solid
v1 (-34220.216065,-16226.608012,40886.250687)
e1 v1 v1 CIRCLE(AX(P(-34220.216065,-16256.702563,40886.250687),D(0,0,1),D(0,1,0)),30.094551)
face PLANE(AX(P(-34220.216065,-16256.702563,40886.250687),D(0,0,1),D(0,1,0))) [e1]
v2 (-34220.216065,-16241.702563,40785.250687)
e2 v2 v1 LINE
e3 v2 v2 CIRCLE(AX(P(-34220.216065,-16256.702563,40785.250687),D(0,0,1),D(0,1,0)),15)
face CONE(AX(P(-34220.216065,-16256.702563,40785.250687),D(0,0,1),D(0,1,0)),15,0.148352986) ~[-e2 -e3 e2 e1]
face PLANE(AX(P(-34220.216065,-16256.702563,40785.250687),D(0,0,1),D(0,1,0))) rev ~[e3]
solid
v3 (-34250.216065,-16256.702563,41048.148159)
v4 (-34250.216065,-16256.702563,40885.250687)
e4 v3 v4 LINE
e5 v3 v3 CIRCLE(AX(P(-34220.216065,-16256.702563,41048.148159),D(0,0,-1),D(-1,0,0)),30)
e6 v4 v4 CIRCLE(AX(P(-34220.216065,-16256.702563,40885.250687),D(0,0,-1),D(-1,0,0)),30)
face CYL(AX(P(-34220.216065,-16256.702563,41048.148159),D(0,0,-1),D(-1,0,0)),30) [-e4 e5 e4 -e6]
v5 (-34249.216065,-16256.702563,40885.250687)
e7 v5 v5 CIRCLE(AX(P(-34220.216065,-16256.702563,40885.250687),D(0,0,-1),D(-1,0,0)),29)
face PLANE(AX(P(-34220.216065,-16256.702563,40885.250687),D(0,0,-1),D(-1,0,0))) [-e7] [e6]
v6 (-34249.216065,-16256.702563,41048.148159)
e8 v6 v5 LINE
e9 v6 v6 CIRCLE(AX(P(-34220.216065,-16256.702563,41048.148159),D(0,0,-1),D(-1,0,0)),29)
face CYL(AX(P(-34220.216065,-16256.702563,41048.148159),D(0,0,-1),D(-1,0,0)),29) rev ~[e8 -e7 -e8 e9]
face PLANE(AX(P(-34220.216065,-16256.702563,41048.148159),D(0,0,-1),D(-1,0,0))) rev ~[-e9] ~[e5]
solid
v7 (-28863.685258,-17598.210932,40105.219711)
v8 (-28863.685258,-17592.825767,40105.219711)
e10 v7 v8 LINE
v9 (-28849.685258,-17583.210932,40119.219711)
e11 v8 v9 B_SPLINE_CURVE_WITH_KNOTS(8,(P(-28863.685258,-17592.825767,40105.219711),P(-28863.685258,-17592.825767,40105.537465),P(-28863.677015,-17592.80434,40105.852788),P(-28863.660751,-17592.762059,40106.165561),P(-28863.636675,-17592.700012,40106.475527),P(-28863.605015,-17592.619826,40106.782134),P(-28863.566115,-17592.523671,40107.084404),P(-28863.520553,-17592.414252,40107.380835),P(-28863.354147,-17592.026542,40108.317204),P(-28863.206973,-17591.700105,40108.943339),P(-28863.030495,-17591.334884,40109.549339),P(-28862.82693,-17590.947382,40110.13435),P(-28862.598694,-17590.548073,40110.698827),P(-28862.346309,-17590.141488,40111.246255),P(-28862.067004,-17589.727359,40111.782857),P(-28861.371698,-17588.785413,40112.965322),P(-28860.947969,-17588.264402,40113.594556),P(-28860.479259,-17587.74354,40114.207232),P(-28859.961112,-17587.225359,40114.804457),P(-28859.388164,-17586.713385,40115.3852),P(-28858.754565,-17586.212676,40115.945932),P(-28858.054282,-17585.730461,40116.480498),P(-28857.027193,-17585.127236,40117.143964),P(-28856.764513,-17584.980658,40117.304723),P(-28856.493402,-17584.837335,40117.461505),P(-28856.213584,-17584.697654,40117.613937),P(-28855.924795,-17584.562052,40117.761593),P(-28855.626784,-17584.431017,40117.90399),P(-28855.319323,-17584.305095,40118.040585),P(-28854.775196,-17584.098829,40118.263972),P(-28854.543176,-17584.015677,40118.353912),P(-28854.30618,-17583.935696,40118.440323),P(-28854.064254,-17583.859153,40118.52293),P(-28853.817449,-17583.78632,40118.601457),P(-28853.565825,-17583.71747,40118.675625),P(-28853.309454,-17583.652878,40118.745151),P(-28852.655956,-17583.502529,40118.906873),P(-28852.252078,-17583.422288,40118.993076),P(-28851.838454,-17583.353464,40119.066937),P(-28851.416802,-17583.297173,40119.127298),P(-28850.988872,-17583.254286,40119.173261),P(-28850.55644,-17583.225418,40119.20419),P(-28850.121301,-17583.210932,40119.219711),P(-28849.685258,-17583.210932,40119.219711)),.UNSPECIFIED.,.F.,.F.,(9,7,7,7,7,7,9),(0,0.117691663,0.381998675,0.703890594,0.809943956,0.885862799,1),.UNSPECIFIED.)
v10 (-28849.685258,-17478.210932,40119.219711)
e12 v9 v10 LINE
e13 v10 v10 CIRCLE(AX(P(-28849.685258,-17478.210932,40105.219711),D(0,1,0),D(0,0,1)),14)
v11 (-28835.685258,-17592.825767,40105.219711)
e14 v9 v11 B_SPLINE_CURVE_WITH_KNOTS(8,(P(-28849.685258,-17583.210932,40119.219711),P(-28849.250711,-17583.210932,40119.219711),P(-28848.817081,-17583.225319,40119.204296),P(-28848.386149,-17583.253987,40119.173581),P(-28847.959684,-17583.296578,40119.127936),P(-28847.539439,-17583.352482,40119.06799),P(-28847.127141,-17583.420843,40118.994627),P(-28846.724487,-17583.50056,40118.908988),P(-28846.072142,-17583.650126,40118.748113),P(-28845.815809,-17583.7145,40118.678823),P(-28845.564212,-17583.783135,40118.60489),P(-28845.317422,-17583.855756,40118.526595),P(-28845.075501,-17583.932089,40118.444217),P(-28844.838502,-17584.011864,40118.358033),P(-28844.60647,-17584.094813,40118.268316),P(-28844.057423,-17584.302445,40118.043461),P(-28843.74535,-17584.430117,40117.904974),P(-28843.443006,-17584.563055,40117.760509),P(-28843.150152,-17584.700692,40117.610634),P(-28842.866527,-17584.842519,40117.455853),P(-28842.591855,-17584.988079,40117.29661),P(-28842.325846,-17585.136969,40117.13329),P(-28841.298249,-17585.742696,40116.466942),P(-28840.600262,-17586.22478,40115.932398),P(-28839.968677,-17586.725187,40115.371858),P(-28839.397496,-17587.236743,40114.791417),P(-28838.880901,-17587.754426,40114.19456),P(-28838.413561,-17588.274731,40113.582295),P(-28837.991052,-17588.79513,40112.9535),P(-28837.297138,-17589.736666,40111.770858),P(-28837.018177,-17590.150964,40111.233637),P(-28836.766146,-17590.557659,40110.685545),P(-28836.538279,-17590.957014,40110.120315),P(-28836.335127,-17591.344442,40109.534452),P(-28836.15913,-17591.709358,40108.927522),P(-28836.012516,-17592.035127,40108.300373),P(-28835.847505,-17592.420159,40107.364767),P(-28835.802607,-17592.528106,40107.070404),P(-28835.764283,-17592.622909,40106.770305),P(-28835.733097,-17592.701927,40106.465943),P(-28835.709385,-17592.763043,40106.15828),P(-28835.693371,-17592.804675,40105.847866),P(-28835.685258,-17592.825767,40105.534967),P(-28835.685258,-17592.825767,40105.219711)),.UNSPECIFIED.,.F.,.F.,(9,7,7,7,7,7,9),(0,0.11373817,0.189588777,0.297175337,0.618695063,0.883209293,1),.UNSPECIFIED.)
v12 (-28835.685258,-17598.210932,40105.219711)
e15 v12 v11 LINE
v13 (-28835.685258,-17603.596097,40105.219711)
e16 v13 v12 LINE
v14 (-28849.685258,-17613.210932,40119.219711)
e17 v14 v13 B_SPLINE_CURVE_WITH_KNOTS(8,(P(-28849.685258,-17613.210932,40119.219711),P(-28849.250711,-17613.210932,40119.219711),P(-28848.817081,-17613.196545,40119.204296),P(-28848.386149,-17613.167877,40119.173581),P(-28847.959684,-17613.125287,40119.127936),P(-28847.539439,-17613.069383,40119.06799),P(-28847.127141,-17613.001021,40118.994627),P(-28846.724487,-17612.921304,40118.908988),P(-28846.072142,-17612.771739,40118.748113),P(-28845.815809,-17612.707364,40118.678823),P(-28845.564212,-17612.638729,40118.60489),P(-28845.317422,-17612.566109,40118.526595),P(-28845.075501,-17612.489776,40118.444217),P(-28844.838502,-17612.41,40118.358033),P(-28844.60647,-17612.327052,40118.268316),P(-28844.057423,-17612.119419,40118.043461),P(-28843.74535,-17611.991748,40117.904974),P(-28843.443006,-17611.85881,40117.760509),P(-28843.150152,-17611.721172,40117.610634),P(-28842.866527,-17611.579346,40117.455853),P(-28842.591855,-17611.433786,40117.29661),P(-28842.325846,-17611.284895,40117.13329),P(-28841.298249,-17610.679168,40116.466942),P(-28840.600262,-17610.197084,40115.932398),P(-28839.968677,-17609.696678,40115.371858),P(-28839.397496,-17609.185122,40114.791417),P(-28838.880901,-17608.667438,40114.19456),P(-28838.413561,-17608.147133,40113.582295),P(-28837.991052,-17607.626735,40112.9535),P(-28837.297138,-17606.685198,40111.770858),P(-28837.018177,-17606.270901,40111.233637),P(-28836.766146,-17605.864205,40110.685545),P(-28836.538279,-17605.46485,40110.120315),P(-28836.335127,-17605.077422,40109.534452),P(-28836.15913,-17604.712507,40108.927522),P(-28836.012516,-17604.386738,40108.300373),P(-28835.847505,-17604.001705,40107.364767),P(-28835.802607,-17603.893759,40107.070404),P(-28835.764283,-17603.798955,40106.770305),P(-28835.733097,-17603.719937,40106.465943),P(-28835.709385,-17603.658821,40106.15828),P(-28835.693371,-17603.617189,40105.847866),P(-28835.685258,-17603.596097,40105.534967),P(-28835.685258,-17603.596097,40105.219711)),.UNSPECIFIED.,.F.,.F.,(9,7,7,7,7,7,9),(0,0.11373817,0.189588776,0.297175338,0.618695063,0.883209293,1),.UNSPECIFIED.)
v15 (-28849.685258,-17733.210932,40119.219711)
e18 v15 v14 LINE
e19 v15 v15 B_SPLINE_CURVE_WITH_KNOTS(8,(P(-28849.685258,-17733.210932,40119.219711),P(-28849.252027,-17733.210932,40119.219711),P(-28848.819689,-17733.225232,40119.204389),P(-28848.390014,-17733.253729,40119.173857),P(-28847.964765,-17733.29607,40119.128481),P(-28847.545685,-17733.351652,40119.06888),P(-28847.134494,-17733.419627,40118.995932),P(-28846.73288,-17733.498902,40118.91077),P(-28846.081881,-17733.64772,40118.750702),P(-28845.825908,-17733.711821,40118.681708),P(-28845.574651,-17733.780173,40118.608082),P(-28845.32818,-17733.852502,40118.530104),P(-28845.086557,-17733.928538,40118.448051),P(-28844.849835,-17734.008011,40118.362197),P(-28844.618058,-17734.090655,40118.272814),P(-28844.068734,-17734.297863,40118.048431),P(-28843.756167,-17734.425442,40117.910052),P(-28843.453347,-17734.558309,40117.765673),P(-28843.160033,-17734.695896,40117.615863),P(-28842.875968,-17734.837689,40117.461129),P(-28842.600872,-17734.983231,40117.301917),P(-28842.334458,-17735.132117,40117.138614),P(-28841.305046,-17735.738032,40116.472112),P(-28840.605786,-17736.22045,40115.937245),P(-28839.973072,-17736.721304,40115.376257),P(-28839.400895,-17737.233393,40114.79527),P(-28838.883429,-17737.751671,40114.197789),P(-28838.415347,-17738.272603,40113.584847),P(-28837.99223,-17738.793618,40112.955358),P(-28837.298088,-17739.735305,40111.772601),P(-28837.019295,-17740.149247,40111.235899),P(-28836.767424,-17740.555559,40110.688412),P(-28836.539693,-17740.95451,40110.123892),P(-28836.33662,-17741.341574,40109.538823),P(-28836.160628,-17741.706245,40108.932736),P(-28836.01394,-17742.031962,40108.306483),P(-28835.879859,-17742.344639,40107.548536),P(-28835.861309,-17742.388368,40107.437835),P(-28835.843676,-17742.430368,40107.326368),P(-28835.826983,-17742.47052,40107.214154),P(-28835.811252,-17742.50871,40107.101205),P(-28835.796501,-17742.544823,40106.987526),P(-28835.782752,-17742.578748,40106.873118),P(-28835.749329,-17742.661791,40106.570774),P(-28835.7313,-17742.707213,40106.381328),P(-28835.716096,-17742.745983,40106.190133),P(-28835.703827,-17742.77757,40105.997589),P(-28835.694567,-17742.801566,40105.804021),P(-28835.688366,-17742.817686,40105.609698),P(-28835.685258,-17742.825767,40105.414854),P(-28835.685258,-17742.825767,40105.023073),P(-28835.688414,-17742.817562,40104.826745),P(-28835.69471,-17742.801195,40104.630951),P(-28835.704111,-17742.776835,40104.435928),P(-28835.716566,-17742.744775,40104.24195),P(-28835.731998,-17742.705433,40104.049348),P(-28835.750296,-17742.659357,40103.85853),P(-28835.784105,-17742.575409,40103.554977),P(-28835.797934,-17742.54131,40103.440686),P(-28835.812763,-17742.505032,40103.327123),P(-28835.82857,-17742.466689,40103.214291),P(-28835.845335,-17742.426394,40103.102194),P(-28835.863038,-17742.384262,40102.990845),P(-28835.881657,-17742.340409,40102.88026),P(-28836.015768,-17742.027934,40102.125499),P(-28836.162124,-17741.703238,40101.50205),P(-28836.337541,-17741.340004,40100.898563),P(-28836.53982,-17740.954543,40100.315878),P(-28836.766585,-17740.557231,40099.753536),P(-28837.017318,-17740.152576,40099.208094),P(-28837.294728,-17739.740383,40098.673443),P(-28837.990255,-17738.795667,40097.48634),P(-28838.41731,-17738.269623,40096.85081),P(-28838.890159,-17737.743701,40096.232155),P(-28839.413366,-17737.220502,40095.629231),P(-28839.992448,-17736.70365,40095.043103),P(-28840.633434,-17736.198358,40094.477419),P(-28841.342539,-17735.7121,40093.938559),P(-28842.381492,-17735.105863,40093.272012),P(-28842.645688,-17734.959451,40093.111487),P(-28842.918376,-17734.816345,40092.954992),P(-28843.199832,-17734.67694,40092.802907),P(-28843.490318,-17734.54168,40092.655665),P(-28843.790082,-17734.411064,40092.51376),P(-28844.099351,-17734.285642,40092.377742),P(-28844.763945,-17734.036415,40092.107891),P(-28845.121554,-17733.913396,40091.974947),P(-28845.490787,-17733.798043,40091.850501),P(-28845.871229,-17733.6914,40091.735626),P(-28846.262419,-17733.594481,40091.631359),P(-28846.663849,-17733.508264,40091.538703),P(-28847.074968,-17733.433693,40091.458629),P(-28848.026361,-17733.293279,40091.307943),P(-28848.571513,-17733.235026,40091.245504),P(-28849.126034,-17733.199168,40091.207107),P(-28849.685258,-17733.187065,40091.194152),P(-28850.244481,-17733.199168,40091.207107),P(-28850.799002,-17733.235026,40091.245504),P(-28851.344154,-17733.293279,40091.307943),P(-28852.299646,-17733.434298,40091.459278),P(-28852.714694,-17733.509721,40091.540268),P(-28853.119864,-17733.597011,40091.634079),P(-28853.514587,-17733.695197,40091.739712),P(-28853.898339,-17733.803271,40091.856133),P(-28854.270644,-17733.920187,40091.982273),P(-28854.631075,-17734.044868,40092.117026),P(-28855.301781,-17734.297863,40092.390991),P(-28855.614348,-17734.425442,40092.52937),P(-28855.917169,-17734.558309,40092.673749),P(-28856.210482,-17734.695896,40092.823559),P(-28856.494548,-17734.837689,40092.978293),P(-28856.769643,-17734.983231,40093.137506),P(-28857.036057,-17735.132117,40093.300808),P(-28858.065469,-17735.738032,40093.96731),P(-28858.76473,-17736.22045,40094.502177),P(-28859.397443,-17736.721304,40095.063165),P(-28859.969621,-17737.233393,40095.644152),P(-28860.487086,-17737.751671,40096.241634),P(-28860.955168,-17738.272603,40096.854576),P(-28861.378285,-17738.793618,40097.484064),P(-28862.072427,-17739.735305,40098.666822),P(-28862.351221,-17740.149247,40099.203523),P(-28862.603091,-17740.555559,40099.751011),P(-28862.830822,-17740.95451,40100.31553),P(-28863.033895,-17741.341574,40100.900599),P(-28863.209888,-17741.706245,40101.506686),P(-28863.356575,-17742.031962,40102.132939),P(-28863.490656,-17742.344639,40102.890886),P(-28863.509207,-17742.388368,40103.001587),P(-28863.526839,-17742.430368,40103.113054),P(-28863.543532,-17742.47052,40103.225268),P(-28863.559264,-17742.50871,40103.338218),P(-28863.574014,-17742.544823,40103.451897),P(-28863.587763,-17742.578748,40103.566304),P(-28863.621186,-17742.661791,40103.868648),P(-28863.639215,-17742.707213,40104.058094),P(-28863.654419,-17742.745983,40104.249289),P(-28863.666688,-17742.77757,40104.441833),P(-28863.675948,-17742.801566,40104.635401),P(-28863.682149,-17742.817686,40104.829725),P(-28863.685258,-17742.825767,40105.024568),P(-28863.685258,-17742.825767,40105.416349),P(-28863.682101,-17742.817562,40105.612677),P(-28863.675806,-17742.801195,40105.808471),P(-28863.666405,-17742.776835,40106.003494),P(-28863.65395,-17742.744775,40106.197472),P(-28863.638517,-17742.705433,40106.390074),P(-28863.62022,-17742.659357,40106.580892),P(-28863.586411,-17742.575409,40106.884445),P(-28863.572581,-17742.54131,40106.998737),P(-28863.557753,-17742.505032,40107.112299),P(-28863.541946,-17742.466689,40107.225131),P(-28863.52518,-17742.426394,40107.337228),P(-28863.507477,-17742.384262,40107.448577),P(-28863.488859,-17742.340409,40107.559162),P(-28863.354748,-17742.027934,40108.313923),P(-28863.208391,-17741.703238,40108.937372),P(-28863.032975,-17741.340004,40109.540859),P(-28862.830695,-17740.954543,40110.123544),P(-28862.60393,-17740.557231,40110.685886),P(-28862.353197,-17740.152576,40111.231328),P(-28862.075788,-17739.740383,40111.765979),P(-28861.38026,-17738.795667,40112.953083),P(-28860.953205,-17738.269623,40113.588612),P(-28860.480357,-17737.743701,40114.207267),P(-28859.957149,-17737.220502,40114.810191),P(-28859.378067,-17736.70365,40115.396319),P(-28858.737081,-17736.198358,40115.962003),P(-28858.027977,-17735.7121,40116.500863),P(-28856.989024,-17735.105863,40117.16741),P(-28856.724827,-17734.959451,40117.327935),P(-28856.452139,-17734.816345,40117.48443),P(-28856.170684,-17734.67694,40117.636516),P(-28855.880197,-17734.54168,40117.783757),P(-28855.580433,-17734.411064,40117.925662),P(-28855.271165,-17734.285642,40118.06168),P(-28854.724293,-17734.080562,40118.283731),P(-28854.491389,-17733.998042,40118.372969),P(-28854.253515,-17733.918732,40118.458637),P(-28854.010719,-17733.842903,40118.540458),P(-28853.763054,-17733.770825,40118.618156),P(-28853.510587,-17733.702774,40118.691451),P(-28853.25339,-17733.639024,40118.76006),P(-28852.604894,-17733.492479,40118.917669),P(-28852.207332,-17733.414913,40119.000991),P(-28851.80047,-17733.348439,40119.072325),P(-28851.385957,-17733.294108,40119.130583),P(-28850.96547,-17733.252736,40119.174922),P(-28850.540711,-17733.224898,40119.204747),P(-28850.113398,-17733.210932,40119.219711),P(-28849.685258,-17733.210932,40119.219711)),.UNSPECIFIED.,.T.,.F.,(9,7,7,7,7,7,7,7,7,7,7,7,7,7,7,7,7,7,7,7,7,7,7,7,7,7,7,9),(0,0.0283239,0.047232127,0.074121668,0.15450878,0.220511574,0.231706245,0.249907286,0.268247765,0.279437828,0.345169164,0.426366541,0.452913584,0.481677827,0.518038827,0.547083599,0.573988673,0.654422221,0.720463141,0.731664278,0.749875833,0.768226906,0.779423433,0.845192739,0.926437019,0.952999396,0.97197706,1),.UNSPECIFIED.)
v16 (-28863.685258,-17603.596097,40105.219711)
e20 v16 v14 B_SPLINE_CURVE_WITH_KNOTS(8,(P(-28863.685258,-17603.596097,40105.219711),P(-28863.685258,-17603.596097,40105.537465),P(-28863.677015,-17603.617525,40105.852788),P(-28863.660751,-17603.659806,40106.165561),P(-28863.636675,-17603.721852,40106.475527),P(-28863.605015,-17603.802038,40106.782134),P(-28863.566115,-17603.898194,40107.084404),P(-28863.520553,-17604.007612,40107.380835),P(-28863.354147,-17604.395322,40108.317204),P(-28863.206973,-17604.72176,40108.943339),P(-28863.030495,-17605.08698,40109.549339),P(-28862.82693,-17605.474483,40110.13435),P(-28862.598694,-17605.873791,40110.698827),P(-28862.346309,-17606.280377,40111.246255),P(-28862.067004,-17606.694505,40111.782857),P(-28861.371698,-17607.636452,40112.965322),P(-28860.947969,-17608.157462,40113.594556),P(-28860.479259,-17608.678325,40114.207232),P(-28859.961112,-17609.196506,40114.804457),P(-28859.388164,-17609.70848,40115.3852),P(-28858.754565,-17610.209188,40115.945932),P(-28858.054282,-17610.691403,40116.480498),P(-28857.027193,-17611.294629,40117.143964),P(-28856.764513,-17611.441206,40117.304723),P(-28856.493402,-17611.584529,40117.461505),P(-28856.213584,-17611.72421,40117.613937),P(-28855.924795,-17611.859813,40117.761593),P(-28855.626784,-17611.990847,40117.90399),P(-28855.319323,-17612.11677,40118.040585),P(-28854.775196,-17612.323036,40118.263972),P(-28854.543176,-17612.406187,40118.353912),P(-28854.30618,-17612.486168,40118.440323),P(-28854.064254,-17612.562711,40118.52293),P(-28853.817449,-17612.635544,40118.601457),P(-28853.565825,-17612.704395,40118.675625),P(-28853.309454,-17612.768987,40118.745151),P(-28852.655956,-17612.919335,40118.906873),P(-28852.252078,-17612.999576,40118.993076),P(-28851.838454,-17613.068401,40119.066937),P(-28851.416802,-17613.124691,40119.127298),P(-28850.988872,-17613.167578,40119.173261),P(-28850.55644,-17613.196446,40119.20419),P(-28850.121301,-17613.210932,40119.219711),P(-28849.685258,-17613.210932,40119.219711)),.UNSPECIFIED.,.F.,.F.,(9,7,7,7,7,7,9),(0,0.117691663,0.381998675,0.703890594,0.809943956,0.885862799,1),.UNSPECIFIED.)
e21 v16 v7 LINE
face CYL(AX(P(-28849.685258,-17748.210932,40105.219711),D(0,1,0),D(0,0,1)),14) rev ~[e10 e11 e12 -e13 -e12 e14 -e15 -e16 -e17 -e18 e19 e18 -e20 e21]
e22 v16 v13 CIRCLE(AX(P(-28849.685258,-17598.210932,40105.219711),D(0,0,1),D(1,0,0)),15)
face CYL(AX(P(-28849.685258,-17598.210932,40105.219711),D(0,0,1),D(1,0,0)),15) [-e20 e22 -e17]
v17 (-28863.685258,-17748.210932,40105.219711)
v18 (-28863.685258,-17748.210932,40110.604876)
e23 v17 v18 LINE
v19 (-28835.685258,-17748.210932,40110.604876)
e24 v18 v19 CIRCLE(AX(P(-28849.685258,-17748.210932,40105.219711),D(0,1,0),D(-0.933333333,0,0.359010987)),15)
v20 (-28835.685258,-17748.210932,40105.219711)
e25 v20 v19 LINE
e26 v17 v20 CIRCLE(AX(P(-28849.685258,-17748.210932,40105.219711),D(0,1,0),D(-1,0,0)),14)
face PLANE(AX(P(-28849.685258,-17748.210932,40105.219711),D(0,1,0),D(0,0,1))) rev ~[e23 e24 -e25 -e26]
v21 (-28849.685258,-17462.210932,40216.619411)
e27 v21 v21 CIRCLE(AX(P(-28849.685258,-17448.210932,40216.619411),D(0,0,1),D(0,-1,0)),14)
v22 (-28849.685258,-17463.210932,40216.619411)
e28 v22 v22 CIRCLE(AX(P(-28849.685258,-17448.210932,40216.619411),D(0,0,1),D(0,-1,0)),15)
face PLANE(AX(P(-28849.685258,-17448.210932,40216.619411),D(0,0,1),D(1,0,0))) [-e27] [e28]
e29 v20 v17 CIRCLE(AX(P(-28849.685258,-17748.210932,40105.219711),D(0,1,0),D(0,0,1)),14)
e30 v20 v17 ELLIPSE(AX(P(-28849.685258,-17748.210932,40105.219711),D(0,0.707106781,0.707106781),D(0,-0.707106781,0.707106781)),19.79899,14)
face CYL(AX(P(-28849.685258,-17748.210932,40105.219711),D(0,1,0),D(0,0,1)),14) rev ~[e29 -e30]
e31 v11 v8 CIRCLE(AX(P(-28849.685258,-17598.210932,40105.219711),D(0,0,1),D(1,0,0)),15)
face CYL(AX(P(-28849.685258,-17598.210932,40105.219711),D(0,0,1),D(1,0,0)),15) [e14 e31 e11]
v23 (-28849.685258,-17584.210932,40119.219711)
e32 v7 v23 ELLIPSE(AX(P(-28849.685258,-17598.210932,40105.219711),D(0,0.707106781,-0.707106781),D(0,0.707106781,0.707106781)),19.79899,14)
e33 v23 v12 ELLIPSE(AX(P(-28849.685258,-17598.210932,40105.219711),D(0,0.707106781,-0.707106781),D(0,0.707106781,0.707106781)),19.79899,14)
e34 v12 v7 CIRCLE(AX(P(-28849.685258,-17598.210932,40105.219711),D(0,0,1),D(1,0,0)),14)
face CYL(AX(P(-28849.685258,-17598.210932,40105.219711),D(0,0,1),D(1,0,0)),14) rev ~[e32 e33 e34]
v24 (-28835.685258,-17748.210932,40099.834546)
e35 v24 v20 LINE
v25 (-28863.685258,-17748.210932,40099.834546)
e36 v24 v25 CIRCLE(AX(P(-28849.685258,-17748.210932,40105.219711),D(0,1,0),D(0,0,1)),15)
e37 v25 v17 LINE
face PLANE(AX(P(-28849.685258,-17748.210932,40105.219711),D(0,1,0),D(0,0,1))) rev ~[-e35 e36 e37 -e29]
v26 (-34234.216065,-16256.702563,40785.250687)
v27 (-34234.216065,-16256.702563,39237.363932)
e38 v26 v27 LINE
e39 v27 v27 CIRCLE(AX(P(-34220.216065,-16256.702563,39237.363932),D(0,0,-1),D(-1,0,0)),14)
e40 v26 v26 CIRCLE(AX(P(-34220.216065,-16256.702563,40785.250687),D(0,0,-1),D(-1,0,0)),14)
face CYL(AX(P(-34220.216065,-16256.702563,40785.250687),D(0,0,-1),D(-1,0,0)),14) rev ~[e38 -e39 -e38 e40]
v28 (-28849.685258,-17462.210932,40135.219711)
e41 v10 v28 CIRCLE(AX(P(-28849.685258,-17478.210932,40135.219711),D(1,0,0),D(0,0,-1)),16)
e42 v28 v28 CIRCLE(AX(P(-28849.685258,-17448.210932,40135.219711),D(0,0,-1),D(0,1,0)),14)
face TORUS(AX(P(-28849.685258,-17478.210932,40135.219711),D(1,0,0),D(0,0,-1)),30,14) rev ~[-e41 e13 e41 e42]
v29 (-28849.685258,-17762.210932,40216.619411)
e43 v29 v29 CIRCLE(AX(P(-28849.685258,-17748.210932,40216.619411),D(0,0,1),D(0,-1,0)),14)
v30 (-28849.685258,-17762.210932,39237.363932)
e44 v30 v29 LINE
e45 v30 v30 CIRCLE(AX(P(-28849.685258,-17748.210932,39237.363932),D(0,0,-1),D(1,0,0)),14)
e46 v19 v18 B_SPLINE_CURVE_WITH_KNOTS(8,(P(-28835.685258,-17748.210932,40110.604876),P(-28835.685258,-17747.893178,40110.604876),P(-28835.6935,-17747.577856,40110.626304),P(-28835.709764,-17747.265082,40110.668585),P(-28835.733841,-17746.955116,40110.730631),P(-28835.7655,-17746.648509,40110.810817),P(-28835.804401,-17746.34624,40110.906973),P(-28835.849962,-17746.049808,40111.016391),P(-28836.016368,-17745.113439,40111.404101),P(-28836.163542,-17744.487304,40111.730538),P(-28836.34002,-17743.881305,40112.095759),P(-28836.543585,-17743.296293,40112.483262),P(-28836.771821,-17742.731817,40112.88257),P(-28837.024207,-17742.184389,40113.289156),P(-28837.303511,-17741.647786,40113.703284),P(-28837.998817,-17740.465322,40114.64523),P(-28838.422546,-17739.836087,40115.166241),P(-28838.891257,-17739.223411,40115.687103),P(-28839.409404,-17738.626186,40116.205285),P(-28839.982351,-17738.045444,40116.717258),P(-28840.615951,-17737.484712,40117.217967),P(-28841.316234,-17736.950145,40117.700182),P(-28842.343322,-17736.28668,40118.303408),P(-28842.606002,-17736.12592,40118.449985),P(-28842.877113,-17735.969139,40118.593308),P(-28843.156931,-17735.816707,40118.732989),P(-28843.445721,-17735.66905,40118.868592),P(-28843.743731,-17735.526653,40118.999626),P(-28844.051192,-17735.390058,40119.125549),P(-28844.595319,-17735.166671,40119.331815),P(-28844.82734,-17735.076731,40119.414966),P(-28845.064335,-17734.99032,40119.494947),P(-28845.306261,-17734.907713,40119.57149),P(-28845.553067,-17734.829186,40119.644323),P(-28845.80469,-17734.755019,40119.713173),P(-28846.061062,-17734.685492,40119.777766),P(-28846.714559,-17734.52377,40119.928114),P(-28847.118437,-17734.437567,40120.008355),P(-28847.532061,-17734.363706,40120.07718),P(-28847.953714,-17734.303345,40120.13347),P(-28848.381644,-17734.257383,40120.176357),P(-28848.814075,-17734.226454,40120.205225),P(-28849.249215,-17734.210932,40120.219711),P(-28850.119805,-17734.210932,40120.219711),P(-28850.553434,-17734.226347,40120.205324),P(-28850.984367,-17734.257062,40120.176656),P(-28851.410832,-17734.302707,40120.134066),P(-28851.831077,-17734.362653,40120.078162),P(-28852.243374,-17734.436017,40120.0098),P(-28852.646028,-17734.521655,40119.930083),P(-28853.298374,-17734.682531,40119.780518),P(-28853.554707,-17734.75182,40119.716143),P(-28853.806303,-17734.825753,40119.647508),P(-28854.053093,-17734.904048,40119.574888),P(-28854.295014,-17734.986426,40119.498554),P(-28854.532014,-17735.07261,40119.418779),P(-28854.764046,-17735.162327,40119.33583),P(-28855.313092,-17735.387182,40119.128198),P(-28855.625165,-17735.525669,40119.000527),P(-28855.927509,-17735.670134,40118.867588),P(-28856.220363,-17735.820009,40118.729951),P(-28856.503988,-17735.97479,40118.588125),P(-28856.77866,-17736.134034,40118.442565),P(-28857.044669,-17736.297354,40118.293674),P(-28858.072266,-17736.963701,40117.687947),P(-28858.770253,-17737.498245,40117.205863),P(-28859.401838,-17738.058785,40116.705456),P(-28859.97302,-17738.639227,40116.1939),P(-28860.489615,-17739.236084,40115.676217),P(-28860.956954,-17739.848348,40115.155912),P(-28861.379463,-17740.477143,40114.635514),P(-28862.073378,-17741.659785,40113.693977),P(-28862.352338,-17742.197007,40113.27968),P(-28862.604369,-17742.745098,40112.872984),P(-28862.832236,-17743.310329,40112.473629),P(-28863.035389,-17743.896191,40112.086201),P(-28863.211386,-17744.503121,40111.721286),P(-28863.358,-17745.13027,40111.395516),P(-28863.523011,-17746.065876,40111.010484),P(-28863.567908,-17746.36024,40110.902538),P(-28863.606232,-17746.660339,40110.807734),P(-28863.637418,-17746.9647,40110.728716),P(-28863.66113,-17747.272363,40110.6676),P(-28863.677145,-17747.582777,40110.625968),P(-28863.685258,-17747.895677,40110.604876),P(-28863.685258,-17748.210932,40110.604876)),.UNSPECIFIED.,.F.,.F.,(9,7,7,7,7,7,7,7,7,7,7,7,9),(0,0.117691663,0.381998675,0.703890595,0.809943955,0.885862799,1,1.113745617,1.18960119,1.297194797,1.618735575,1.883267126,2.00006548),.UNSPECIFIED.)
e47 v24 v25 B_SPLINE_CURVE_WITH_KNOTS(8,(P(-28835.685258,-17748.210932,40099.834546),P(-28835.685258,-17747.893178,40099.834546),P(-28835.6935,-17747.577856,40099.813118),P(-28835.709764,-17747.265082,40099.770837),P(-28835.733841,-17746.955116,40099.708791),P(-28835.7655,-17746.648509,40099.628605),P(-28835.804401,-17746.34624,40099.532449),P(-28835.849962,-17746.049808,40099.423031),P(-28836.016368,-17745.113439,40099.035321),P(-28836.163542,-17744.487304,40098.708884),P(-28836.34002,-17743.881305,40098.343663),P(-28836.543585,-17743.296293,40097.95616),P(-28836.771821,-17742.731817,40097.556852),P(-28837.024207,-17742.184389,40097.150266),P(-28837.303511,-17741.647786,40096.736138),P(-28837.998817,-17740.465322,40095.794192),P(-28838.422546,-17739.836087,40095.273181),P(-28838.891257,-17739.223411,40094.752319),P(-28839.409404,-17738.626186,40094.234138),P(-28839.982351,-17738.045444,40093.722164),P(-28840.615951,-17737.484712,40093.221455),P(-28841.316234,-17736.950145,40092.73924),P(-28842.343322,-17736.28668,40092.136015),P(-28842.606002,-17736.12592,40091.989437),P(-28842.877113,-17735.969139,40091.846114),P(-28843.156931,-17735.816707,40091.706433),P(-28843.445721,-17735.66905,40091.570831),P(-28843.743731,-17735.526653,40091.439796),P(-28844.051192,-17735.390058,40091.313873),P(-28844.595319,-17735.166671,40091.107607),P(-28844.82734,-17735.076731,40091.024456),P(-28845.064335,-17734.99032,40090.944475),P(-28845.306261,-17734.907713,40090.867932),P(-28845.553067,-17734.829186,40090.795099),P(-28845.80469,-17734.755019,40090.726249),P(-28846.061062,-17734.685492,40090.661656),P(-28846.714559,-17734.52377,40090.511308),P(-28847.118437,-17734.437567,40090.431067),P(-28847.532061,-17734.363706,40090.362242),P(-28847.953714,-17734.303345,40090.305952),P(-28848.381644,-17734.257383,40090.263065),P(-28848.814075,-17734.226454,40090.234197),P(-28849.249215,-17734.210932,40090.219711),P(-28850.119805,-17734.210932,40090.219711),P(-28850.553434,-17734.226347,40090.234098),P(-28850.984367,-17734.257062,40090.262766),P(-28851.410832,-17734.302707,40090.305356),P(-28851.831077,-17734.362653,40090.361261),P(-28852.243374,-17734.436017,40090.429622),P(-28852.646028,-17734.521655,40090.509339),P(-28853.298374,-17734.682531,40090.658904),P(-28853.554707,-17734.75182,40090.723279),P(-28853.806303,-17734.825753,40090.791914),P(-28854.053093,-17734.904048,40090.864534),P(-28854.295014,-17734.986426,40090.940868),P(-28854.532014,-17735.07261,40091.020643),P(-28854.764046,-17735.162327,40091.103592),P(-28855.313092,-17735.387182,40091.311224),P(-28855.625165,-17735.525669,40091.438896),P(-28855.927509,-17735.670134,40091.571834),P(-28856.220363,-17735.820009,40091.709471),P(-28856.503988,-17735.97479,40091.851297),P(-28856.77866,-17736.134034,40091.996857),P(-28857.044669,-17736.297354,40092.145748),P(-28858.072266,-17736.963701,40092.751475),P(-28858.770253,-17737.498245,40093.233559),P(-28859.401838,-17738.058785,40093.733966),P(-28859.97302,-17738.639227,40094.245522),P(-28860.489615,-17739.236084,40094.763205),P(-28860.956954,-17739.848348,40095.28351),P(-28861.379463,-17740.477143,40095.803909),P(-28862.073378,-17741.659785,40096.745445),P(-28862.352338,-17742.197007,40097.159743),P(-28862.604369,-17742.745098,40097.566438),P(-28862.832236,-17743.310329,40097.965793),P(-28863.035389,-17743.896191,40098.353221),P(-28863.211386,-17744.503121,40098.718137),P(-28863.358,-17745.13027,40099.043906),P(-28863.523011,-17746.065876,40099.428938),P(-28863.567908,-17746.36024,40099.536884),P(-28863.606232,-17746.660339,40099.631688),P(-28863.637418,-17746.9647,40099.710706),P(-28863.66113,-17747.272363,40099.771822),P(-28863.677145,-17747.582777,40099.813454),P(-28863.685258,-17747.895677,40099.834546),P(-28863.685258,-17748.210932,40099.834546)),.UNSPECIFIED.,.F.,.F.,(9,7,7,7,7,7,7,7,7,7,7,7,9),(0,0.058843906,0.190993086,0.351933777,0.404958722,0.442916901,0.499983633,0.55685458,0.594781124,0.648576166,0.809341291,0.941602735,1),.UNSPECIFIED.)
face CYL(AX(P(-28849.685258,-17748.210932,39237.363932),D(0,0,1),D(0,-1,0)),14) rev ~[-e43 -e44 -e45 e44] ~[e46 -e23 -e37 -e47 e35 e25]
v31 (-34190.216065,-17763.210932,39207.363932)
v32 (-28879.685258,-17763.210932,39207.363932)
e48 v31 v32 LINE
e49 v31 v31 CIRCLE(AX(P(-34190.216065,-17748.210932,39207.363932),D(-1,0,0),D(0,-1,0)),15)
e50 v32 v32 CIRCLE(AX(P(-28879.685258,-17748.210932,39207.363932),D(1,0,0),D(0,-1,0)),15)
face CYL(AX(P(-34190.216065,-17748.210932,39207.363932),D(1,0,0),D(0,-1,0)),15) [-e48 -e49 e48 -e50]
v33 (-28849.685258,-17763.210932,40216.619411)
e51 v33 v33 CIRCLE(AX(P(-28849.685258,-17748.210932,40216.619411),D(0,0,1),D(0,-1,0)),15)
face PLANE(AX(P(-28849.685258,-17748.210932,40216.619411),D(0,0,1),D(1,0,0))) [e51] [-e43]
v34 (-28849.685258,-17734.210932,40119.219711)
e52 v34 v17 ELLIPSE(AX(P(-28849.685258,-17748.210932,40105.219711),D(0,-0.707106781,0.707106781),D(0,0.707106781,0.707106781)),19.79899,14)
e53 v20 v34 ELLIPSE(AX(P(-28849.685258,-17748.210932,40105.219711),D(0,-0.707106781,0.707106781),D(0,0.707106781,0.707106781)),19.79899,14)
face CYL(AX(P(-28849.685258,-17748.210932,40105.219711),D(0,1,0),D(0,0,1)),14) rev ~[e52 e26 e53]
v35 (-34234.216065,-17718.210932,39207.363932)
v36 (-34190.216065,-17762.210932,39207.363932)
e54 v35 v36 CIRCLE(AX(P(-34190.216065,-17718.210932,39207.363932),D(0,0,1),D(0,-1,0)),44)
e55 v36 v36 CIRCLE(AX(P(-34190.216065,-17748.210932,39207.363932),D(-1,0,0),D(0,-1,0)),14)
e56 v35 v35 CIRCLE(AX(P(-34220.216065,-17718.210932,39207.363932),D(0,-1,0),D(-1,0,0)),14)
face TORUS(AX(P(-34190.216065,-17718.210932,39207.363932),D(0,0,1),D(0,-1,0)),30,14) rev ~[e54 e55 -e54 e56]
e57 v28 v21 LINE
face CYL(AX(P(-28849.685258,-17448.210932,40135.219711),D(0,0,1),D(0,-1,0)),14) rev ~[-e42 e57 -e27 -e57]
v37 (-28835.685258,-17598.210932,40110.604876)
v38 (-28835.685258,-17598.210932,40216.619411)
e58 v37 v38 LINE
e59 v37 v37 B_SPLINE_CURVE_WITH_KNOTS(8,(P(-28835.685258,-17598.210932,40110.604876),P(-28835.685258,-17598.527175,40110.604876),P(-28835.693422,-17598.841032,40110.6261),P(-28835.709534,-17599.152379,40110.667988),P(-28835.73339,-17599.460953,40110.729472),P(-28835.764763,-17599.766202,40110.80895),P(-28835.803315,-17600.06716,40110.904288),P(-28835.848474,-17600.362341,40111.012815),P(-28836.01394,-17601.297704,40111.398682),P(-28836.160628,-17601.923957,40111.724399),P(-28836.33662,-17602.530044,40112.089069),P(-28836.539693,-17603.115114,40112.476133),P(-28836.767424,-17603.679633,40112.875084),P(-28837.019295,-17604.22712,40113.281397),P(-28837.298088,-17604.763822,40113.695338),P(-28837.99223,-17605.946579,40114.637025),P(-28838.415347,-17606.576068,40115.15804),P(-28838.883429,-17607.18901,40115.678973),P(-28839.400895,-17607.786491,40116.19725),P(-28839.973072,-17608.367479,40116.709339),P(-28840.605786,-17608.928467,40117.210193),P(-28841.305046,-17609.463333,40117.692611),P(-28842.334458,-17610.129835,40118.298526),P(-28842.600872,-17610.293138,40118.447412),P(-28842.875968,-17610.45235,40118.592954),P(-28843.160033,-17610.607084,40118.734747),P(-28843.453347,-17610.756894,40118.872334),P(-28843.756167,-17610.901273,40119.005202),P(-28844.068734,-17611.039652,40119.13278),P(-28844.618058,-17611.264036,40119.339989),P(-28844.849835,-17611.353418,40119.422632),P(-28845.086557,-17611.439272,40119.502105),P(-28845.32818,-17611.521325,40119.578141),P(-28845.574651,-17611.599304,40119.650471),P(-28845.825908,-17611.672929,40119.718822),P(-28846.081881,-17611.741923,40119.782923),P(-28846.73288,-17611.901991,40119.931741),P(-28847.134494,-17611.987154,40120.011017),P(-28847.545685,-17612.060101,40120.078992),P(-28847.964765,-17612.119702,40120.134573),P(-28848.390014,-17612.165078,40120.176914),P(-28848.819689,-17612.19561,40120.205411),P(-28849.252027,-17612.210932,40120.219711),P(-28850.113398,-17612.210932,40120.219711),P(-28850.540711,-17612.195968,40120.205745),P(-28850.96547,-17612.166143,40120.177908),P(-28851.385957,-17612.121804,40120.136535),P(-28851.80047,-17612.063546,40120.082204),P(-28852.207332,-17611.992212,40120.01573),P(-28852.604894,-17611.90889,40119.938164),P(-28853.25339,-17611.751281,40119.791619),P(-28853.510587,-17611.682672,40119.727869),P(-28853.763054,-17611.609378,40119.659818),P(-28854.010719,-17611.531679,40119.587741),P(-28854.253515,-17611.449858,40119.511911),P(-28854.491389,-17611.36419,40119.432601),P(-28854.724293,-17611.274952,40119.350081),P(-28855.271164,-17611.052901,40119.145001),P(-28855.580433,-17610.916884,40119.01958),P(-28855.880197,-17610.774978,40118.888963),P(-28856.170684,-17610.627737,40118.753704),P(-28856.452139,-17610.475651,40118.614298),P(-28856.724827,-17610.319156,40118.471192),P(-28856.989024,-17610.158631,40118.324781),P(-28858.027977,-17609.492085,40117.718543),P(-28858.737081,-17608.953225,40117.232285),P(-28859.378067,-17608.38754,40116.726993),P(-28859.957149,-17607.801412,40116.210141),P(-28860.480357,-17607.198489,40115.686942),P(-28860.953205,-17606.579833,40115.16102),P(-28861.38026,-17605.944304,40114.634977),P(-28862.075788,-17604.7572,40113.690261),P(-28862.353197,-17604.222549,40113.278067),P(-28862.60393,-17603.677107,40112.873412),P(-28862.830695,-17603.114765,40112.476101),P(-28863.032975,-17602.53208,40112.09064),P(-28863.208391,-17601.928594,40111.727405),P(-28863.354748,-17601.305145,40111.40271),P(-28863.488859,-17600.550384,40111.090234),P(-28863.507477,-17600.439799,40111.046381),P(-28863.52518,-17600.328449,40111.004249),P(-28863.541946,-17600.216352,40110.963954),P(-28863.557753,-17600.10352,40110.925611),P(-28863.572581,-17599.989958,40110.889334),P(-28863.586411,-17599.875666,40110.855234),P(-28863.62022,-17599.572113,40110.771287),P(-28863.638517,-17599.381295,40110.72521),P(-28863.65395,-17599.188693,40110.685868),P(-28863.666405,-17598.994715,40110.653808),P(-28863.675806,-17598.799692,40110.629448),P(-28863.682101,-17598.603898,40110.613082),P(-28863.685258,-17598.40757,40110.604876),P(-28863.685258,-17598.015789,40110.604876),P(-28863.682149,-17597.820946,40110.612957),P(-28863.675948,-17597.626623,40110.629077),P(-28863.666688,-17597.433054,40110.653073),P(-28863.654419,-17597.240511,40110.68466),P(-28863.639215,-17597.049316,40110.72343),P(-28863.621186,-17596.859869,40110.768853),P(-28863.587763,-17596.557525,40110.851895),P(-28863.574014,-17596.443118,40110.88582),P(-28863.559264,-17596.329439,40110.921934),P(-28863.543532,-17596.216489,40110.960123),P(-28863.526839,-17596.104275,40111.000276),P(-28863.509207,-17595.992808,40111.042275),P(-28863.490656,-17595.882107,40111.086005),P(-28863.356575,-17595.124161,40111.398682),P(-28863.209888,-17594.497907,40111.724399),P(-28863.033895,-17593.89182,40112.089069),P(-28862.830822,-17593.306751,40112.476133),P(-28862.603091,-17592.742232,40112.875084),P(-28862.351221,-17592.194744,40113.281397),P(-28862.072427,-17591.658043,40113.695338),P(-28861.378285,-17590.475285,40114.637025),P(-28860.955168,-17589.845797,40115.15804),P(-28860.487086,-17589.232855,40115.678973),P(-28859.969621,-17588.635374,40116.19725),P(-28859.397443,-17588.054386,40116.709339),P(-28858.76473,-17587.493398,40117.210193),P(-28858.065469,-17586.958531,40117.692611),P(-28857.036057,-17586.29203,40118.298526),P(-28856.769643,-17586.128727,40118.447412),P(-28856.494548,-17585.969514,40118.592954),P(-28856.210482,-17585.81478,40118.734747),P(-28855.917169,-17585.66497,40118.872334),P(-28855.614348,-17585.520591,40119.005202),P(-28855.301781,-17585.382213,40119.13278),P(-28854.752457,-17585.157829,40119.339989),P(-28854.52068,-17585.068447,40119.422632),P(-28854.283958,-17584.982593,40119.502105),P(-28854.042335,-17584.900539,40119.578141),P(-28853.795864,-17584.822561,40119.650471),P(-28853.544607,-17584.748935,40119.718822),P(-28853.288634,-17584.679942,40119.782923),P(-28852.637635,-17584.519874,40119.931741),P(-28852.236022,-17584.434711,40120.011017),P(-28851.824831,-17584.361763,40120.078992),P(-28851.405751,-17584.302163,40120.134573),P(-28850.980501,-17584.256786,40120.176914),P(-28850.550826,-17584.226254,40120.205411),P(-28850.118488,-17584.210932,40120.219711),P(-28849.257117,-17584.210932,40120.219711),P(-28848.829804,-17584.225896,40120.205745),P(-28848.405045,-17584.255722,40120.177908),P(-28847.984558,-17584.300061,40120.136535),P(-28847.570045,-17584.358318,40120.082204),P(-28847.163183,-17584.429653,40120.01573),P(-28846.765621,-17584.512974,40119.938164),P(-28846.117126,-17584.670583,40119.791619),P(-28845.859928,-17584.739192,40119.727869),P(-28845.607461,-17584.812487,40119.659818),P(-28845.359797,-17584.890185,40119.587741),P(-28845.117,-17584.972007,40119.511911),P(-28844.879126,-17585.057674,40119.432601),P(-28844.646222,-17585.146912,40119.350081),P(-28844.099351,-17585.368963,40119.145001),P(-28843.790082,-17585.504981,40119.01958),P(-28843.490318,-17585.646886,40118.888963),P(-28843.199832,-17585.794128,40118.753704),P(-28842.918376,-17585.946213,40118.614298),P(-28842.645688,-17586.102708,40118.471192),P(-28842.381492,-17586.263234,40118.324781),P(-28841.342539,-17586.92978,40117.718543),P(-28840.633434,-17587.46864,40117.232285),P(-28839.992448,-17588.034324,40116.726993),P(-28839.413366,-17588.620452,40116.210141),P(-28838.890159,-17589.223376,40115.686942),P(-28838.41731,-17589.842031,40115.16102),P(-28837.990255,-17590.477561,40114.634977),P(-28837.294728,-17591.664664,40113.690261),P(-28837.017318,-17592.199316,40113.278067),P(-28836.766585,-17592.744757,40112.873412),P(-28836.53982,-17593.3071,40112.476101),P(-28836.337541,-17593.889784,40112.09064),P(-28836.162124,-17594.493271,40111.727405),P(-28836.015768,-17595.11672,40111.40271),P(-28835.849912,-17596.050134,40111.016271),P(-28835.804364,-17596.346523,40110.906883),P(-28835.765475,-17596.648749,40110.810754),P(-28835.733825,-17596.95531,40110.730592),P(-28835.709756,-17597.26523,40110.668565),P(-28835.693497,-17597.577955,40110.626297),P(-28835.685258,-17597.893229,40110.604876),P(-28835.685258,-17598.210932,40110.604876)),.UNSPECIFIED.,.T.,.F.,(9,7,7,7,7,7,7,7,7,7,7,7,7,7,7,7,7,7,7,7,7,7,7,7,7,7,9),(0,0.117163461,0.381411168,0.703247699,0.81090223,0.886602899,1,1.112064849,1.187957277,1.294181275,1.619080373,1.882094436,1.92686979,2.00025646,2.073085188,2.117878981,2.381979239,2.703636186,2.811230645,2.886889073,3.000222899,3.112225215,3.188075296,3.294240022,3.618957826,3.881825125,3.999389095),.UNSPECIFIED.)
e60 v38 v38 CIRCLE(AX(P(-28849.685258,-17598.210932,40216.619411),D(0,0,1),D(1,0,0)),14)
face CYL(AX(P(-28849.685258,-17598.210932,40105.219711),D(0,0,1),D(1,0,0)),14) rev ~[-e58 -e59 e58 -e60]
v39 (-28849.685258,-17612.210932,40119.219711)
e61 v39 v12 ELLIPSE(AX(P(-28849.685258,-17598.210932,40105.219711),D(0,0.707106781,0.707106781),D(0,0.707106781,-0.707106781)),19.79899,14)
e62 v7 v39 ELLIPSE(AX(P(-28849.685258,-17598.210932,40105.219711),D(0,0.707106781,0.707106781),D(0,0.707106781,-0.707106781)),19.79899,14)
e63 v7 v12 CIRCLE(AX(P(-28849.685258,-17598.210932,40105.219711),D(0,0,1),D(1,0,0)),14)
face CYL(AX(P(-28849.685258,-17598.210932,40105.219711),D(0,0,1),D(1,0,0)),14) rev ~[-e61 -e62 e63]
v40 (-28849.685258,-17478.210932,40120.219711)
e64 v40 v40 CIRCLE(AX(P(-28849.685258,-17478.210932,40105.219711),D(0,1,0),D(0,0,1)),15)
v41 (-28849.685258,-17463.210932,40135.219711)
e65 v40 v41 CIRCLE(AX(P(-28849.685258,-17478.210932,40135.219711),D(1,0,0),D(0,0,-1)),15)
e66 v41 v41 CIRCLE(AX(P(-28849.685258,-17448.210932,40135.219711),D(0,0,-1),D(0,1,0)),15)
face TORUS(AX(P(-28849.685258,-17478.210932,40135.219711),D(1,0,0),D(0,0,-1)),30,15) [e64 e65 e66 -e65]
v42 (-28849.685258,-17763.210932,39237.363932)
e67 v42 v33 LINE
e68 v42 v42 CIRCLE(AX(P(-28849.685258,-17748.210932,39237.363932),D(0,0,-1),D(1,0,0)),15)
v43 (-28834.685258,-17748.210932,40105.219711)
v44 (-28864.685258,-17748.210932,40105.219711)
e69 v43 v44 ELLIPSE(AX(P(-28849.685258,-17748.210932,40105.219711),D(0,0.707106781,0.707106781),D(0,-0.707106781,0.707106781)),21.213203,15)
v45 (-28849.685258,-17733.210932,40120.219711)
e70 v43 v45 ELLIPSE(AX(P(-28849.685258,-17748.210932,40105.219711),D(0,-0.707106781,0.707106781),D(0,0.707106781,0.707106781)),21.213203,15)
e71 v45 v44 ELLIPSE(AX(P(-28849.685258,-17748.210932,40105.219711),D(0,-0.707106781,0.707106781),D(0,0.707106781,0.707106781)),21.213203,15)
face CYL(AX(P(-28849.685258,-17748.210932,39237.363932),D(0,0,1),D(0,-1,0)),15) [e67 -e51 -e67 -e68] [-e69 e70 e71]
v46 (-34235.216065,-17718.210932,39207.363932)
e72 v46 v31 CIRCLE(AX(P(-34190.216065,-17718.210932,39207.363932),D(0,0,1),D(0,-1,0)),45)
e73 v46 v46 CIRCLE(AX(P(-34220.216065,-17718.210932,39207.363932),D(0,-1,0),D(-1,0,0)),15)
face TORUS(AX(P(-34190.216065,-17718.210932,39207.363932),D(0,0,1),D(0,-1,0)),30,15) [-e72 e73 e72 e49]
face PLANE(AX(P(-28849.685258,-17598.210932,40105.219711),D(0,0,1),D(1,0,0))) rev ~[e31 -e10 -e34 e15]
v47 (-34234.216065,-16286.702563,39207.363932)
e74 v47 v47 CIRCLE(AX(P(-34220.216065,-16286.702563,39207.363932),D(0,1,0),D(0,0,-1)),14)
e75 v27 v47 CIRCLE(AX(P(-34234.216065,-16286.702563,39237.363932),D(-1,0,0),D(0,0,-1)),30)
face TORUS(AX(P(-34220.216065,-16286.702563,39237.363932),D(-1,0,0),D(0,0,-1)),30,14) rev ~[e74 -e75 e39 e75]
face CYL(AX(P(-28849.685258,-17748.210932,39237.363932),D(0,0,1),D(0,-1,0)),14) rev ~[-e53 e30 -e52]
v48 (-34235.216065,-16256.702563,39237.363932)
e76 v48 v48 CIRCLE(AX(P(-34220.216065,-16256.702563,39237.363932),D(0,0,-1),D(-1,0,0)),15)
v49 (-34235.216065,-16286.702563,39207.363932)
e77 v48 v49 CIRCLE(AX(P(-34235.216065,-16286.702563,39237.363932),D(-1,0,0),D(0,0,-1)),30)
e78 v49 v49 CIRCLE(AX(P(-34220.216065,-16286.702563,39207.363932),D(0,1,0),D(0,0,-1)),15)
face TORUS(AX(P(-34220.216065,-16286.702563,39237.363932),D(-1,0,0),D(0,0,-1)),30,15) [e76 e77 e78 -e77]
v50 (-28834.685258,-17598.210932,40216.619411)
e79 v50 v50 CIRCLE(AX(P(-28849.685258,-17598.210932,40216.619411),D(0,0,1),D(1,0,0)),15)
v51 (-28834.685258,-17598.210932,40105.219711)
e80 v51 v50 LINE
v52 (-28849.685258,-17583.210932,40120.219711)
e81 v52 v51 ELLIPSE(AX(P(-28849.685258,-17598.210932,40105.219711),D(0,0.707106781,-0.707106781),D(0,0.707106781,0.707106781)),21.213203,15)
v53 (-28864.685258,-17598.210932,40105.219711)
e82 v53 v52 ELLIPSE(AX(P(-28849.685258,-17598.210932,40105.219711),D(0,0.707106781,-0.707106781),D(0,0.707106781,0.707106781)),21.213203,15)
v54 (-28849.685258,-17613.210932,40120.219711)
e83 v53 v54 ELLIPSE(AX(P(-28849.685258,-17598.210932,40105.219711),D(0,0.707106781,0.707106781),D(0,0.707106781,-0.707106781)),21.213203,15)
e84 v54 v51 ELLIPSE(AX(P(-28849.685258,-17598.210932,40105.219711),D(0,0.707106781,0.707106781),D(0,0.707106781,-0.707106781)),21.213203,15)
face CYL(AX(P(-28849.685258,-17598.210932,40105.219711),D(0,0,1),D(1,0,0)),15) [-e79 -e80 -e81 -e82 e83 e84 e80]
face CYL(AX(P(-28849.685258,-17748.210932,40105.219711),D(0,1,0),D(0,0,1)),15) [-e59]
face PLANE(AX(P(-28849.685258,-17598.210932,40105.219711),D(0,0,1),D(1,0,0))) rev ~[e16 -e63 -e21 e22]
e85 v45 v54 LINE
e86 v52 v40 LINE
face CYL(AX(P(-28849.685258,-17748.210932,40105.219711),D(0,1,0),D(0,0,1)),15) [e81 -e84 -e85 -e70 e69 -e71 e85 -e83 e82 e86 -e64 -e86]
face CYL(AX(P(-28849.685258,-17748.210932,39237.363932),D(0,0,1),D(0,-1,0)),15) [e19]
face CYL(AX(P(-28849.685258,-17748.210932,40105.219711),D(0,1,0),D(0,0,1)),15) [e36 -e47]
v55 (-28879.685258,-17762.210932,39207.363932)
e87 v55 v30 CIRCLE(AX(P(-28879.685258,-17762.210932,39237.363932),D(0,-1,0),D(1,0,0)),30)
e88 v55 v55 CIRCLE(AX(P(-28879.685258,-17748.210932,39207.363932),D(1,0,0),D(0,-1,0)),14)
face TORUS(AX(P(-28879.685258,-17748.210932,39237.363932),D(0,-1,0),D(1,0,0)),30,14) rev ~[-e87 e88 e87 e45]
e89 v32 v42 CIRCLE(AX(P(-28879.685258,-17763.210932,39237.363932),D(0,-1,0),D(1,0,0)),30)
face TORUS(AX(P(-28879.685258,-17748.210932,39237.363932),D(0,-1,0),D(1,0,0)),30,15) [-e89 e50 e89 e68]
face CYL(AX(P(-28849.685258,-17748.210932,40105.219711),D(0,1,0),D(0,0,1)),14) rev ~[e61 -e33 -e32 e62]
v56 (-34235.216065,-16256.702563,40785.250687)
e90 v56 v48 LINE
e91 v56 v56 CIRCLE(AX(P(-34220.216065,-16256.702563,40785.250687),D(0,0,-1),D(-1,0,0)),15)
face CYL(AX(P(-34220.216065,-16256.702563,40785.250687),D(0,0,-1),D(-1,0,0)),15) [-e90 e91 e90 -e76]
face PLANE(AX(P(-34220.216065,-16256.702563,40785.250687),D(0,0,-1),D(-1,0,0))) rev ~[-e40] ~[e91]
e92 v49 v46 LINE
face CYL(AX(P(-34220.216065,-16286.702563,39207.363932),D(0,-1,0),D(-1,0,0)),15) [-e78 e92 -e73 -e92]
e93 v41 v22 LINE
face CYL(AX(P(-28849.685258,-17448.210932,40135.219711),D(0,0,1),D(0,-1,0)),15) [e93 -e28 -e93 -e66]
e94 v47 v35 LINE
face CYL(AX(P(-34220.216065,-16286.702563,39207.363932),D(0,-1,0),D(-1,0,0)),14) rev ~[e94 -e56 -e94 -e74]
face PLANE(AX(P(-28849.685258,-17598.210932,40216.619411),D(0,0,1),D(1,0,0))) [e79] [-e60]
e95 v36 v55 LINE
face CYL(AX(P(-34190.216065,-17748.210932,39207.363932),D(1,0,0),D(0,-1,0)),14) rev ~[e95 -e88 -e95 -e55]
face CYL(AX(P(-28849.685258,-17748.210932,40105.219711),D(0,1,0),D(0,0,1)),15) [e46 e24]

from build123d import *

# Parameters (mm, degrees)
SWEEP_THIN1_PROFILE_R   = 30.000000000000004
SWEEP_THIN1_PROFILE_R_2 = 29.000000000000004
SWEEP_THIN2_PROFILE_R   = 15
SWEEP_THIN2_PROFILE_R_2 = 14
SKETCH109_R             = 14.99999999999705
BOSS_EXTRUDE2_DEPTH     = 101.00000000000001
BOSS_EXTRUDE2_DRAFT     = -8.500000000000018
SWEEP_THIN3_PROFILE_R   = 15
SWEEP_THIN3_PROFILE_R_2 = 14
SWEEP_THIN4_PROFILE_R   = 15
SWEEP_THIN4_PROFILE_R_2 = 14


with BuildPart() as part:
    # Sweep-Thin1: sweep along a curve in space
    with BuildLine() as sweep_thin1_path:
        Line((-34220.21606467534, -16256.702563294808, 41048.148159181685), (-34220.21606467534, -16256.702563294808, 40885.250687197564))
    # Sweep-Thin1 profile (on start of the path) → Sweep-Thin1 (sweep)
    with BuildSketch(Plane(origin=(-34220.21606467534, -16256.702563294808, 41048.148159181685), x_dir=(-1, 0, 0), z_dir=(0, 0, -1))):
        Circle(SWEEP_THIN1_PROFILE_R)
        Circle(SWEEP_THIN1_PROFILE_R_2, mode=Mode.SUBTRACT)
    sweep(path=sweep_thin1_path.line)


with BuildPart() as body_2:
    # Sweep-Thin2: sweep along a curve in space
    with BuildLine() as sweep_thin2_path:
        Line((-34220.21606467534, -16256.702563294808, 40785.250687197564), (-34220.21606467534, -16256.702563294808, 39237.36393186279))
        ThreePointArc((-34220.21606467534, -16286.70256329481, 39207.36393186279), (-34220.21606467534, -16265.489359859213, 39216.150728427194), (-34220.21606467534, -16256.702563294808, 39237.36393186279))
        Line((-34220.21606467534, -16286.70256329481, 39207.36393186279), (-34220.21606467535, -17718.21093222221, 39207.36393186279))
        ThreePointArc((-34190.21606467535, -17748.21093222221, 39207.363931862696), (-34211.429268110944, -17739.424135657806, 39207.36393186276), (-34220.21606467535, -17718.21093222221, 39207.36393186279))
        Line((-34190.21606467535, -17748.21093222221, 39207.363931862696), (-28879.68525767314, -17748.21093222221, 39207.36393186279))
        ThreePointArc((-28849.685257673136, -17748.21093222221, 39237.36393186279), (-28858.47205423754, -17748.21093222221, 39216.150728427194), (-28879.68525767314, -17748.21093222221, 39207.36393186279))
        Line((-28849.685257673136, -17748.21093222221, 39237.36393186279), (-28849.685257673136, -17748.21093222221, 40216.61941081384))
    # Sweep-Thin2 profile (on start of the path) → Sweep-Thin2 (sweep)
    with BuildSketch(Plane(origin=(-34220.21606467534, -16256.702563294808, 40785.250687197564), x_dir=(-1, 0, 0), z_dir=(0, 0, -1))):
        Circle(SWEEP_THIN2_PROFILE_R)
        Circle(SWEEP_THIN2_PROFILE_R_2, mode=Mode.SUBTRACT)
    sweep(path=sweep_thin2_path.line)

    # Sweep-Thin3: sweep along a curve in space
    with BuildLine() as sweep_thin3_path:
        Line((-28849.685257673136, -17748.21093222221, 40105.219711077385), (-28849.685257673136, -17598.21093222222, 40105.219711077385))
        Line((-28849.685257673136, -17598.21093222222, 40105.219711077385), (-28849.685257673136, -17478.210932222228, 40105.219711077385))
        ThreePointArc((-28849.685257673136, -17478.210932222228, 40105.219711077385), (-28849.685257673136, -17456.99772878663, 40114.00650764179), (-28849.685257673136, -17448.210932222228, 40135.219711077385))
        Line((-28849.685257673136, -17448.210932222228, 40135.219711077385), (-28849.685257673136, -17448.210932222228, 40216.61941081384))
    # Sweep-Thin3 profile (on start of the path) → Sweep-Thin3 (sweep)
    with BuildSketch(Plane(origin=(-28849.685257673136, -17748.21093222221, 40105.219711077385), x_dir=(0, 0, 1), z_dir=(0, 1, 0))):
        Circle(SWEEP_THIN3_PROFILE_R)
        Circle(SWEEP_THIN3_PROFILE_R_2, mode=Mode.SUBTRACT)
    sweep(path=sweep_thin3_path.line)

    # Sweep-Thin4: sweep along a curve in space
    with BuildLine() as sweep_thin4_path:
        Line((-28849.685257673136, -17598.21093222222, 40105.219711077385), (-28849.685257673136, -17598.21093222222, 40216.61941081384))
    # Sweep-Thin4 profile (on start of the path) → Sweep-Thin4 (sweep)
    with BuildSketch(Plane(origin=(-28849.685257673136, -17598.21093222222, 40105.219711077385), x_dir=(1, 0, 0), z_dir=(0, 0, 1))):
        Circle(SWEEP_THIN4_PROFILE_R)
        Circle(SWEEP_THIN4_PROFILE_R_2, mode=Mode.SUBTRACT)
    sweep(path=sweep_thin4_path.line)


with BuildPart() as body_3:
    # Sketch109 → Boss-Extrude2 (with draft: the straight prism first)
    with BuildSketch(Plane.XY.offset(40785.250687197564)):
        with Locations((-34220.21606467537, -16256.702563294808)):
            Circle(SKETCH109_R)
    extrude(amount=BOSS_EXTRUDE2_DEPTH)
    # Boss-Extrude2: the draft: its side faces are tilted about the plane it starts from
    boss_extrude2_sides = [body_3.faces().sort_by_distance(p)[0] for p in [
        (-34235.216064675, -16256.702563295, 40835.750687198),
    ]]
    draft(boss_extrude2_sides, Plane.XY.offset(40785.250687197564), BOSS_EXTRUDE2_DRAFT)


solid = Compound([part.part, body_2.part, body_3.part])
